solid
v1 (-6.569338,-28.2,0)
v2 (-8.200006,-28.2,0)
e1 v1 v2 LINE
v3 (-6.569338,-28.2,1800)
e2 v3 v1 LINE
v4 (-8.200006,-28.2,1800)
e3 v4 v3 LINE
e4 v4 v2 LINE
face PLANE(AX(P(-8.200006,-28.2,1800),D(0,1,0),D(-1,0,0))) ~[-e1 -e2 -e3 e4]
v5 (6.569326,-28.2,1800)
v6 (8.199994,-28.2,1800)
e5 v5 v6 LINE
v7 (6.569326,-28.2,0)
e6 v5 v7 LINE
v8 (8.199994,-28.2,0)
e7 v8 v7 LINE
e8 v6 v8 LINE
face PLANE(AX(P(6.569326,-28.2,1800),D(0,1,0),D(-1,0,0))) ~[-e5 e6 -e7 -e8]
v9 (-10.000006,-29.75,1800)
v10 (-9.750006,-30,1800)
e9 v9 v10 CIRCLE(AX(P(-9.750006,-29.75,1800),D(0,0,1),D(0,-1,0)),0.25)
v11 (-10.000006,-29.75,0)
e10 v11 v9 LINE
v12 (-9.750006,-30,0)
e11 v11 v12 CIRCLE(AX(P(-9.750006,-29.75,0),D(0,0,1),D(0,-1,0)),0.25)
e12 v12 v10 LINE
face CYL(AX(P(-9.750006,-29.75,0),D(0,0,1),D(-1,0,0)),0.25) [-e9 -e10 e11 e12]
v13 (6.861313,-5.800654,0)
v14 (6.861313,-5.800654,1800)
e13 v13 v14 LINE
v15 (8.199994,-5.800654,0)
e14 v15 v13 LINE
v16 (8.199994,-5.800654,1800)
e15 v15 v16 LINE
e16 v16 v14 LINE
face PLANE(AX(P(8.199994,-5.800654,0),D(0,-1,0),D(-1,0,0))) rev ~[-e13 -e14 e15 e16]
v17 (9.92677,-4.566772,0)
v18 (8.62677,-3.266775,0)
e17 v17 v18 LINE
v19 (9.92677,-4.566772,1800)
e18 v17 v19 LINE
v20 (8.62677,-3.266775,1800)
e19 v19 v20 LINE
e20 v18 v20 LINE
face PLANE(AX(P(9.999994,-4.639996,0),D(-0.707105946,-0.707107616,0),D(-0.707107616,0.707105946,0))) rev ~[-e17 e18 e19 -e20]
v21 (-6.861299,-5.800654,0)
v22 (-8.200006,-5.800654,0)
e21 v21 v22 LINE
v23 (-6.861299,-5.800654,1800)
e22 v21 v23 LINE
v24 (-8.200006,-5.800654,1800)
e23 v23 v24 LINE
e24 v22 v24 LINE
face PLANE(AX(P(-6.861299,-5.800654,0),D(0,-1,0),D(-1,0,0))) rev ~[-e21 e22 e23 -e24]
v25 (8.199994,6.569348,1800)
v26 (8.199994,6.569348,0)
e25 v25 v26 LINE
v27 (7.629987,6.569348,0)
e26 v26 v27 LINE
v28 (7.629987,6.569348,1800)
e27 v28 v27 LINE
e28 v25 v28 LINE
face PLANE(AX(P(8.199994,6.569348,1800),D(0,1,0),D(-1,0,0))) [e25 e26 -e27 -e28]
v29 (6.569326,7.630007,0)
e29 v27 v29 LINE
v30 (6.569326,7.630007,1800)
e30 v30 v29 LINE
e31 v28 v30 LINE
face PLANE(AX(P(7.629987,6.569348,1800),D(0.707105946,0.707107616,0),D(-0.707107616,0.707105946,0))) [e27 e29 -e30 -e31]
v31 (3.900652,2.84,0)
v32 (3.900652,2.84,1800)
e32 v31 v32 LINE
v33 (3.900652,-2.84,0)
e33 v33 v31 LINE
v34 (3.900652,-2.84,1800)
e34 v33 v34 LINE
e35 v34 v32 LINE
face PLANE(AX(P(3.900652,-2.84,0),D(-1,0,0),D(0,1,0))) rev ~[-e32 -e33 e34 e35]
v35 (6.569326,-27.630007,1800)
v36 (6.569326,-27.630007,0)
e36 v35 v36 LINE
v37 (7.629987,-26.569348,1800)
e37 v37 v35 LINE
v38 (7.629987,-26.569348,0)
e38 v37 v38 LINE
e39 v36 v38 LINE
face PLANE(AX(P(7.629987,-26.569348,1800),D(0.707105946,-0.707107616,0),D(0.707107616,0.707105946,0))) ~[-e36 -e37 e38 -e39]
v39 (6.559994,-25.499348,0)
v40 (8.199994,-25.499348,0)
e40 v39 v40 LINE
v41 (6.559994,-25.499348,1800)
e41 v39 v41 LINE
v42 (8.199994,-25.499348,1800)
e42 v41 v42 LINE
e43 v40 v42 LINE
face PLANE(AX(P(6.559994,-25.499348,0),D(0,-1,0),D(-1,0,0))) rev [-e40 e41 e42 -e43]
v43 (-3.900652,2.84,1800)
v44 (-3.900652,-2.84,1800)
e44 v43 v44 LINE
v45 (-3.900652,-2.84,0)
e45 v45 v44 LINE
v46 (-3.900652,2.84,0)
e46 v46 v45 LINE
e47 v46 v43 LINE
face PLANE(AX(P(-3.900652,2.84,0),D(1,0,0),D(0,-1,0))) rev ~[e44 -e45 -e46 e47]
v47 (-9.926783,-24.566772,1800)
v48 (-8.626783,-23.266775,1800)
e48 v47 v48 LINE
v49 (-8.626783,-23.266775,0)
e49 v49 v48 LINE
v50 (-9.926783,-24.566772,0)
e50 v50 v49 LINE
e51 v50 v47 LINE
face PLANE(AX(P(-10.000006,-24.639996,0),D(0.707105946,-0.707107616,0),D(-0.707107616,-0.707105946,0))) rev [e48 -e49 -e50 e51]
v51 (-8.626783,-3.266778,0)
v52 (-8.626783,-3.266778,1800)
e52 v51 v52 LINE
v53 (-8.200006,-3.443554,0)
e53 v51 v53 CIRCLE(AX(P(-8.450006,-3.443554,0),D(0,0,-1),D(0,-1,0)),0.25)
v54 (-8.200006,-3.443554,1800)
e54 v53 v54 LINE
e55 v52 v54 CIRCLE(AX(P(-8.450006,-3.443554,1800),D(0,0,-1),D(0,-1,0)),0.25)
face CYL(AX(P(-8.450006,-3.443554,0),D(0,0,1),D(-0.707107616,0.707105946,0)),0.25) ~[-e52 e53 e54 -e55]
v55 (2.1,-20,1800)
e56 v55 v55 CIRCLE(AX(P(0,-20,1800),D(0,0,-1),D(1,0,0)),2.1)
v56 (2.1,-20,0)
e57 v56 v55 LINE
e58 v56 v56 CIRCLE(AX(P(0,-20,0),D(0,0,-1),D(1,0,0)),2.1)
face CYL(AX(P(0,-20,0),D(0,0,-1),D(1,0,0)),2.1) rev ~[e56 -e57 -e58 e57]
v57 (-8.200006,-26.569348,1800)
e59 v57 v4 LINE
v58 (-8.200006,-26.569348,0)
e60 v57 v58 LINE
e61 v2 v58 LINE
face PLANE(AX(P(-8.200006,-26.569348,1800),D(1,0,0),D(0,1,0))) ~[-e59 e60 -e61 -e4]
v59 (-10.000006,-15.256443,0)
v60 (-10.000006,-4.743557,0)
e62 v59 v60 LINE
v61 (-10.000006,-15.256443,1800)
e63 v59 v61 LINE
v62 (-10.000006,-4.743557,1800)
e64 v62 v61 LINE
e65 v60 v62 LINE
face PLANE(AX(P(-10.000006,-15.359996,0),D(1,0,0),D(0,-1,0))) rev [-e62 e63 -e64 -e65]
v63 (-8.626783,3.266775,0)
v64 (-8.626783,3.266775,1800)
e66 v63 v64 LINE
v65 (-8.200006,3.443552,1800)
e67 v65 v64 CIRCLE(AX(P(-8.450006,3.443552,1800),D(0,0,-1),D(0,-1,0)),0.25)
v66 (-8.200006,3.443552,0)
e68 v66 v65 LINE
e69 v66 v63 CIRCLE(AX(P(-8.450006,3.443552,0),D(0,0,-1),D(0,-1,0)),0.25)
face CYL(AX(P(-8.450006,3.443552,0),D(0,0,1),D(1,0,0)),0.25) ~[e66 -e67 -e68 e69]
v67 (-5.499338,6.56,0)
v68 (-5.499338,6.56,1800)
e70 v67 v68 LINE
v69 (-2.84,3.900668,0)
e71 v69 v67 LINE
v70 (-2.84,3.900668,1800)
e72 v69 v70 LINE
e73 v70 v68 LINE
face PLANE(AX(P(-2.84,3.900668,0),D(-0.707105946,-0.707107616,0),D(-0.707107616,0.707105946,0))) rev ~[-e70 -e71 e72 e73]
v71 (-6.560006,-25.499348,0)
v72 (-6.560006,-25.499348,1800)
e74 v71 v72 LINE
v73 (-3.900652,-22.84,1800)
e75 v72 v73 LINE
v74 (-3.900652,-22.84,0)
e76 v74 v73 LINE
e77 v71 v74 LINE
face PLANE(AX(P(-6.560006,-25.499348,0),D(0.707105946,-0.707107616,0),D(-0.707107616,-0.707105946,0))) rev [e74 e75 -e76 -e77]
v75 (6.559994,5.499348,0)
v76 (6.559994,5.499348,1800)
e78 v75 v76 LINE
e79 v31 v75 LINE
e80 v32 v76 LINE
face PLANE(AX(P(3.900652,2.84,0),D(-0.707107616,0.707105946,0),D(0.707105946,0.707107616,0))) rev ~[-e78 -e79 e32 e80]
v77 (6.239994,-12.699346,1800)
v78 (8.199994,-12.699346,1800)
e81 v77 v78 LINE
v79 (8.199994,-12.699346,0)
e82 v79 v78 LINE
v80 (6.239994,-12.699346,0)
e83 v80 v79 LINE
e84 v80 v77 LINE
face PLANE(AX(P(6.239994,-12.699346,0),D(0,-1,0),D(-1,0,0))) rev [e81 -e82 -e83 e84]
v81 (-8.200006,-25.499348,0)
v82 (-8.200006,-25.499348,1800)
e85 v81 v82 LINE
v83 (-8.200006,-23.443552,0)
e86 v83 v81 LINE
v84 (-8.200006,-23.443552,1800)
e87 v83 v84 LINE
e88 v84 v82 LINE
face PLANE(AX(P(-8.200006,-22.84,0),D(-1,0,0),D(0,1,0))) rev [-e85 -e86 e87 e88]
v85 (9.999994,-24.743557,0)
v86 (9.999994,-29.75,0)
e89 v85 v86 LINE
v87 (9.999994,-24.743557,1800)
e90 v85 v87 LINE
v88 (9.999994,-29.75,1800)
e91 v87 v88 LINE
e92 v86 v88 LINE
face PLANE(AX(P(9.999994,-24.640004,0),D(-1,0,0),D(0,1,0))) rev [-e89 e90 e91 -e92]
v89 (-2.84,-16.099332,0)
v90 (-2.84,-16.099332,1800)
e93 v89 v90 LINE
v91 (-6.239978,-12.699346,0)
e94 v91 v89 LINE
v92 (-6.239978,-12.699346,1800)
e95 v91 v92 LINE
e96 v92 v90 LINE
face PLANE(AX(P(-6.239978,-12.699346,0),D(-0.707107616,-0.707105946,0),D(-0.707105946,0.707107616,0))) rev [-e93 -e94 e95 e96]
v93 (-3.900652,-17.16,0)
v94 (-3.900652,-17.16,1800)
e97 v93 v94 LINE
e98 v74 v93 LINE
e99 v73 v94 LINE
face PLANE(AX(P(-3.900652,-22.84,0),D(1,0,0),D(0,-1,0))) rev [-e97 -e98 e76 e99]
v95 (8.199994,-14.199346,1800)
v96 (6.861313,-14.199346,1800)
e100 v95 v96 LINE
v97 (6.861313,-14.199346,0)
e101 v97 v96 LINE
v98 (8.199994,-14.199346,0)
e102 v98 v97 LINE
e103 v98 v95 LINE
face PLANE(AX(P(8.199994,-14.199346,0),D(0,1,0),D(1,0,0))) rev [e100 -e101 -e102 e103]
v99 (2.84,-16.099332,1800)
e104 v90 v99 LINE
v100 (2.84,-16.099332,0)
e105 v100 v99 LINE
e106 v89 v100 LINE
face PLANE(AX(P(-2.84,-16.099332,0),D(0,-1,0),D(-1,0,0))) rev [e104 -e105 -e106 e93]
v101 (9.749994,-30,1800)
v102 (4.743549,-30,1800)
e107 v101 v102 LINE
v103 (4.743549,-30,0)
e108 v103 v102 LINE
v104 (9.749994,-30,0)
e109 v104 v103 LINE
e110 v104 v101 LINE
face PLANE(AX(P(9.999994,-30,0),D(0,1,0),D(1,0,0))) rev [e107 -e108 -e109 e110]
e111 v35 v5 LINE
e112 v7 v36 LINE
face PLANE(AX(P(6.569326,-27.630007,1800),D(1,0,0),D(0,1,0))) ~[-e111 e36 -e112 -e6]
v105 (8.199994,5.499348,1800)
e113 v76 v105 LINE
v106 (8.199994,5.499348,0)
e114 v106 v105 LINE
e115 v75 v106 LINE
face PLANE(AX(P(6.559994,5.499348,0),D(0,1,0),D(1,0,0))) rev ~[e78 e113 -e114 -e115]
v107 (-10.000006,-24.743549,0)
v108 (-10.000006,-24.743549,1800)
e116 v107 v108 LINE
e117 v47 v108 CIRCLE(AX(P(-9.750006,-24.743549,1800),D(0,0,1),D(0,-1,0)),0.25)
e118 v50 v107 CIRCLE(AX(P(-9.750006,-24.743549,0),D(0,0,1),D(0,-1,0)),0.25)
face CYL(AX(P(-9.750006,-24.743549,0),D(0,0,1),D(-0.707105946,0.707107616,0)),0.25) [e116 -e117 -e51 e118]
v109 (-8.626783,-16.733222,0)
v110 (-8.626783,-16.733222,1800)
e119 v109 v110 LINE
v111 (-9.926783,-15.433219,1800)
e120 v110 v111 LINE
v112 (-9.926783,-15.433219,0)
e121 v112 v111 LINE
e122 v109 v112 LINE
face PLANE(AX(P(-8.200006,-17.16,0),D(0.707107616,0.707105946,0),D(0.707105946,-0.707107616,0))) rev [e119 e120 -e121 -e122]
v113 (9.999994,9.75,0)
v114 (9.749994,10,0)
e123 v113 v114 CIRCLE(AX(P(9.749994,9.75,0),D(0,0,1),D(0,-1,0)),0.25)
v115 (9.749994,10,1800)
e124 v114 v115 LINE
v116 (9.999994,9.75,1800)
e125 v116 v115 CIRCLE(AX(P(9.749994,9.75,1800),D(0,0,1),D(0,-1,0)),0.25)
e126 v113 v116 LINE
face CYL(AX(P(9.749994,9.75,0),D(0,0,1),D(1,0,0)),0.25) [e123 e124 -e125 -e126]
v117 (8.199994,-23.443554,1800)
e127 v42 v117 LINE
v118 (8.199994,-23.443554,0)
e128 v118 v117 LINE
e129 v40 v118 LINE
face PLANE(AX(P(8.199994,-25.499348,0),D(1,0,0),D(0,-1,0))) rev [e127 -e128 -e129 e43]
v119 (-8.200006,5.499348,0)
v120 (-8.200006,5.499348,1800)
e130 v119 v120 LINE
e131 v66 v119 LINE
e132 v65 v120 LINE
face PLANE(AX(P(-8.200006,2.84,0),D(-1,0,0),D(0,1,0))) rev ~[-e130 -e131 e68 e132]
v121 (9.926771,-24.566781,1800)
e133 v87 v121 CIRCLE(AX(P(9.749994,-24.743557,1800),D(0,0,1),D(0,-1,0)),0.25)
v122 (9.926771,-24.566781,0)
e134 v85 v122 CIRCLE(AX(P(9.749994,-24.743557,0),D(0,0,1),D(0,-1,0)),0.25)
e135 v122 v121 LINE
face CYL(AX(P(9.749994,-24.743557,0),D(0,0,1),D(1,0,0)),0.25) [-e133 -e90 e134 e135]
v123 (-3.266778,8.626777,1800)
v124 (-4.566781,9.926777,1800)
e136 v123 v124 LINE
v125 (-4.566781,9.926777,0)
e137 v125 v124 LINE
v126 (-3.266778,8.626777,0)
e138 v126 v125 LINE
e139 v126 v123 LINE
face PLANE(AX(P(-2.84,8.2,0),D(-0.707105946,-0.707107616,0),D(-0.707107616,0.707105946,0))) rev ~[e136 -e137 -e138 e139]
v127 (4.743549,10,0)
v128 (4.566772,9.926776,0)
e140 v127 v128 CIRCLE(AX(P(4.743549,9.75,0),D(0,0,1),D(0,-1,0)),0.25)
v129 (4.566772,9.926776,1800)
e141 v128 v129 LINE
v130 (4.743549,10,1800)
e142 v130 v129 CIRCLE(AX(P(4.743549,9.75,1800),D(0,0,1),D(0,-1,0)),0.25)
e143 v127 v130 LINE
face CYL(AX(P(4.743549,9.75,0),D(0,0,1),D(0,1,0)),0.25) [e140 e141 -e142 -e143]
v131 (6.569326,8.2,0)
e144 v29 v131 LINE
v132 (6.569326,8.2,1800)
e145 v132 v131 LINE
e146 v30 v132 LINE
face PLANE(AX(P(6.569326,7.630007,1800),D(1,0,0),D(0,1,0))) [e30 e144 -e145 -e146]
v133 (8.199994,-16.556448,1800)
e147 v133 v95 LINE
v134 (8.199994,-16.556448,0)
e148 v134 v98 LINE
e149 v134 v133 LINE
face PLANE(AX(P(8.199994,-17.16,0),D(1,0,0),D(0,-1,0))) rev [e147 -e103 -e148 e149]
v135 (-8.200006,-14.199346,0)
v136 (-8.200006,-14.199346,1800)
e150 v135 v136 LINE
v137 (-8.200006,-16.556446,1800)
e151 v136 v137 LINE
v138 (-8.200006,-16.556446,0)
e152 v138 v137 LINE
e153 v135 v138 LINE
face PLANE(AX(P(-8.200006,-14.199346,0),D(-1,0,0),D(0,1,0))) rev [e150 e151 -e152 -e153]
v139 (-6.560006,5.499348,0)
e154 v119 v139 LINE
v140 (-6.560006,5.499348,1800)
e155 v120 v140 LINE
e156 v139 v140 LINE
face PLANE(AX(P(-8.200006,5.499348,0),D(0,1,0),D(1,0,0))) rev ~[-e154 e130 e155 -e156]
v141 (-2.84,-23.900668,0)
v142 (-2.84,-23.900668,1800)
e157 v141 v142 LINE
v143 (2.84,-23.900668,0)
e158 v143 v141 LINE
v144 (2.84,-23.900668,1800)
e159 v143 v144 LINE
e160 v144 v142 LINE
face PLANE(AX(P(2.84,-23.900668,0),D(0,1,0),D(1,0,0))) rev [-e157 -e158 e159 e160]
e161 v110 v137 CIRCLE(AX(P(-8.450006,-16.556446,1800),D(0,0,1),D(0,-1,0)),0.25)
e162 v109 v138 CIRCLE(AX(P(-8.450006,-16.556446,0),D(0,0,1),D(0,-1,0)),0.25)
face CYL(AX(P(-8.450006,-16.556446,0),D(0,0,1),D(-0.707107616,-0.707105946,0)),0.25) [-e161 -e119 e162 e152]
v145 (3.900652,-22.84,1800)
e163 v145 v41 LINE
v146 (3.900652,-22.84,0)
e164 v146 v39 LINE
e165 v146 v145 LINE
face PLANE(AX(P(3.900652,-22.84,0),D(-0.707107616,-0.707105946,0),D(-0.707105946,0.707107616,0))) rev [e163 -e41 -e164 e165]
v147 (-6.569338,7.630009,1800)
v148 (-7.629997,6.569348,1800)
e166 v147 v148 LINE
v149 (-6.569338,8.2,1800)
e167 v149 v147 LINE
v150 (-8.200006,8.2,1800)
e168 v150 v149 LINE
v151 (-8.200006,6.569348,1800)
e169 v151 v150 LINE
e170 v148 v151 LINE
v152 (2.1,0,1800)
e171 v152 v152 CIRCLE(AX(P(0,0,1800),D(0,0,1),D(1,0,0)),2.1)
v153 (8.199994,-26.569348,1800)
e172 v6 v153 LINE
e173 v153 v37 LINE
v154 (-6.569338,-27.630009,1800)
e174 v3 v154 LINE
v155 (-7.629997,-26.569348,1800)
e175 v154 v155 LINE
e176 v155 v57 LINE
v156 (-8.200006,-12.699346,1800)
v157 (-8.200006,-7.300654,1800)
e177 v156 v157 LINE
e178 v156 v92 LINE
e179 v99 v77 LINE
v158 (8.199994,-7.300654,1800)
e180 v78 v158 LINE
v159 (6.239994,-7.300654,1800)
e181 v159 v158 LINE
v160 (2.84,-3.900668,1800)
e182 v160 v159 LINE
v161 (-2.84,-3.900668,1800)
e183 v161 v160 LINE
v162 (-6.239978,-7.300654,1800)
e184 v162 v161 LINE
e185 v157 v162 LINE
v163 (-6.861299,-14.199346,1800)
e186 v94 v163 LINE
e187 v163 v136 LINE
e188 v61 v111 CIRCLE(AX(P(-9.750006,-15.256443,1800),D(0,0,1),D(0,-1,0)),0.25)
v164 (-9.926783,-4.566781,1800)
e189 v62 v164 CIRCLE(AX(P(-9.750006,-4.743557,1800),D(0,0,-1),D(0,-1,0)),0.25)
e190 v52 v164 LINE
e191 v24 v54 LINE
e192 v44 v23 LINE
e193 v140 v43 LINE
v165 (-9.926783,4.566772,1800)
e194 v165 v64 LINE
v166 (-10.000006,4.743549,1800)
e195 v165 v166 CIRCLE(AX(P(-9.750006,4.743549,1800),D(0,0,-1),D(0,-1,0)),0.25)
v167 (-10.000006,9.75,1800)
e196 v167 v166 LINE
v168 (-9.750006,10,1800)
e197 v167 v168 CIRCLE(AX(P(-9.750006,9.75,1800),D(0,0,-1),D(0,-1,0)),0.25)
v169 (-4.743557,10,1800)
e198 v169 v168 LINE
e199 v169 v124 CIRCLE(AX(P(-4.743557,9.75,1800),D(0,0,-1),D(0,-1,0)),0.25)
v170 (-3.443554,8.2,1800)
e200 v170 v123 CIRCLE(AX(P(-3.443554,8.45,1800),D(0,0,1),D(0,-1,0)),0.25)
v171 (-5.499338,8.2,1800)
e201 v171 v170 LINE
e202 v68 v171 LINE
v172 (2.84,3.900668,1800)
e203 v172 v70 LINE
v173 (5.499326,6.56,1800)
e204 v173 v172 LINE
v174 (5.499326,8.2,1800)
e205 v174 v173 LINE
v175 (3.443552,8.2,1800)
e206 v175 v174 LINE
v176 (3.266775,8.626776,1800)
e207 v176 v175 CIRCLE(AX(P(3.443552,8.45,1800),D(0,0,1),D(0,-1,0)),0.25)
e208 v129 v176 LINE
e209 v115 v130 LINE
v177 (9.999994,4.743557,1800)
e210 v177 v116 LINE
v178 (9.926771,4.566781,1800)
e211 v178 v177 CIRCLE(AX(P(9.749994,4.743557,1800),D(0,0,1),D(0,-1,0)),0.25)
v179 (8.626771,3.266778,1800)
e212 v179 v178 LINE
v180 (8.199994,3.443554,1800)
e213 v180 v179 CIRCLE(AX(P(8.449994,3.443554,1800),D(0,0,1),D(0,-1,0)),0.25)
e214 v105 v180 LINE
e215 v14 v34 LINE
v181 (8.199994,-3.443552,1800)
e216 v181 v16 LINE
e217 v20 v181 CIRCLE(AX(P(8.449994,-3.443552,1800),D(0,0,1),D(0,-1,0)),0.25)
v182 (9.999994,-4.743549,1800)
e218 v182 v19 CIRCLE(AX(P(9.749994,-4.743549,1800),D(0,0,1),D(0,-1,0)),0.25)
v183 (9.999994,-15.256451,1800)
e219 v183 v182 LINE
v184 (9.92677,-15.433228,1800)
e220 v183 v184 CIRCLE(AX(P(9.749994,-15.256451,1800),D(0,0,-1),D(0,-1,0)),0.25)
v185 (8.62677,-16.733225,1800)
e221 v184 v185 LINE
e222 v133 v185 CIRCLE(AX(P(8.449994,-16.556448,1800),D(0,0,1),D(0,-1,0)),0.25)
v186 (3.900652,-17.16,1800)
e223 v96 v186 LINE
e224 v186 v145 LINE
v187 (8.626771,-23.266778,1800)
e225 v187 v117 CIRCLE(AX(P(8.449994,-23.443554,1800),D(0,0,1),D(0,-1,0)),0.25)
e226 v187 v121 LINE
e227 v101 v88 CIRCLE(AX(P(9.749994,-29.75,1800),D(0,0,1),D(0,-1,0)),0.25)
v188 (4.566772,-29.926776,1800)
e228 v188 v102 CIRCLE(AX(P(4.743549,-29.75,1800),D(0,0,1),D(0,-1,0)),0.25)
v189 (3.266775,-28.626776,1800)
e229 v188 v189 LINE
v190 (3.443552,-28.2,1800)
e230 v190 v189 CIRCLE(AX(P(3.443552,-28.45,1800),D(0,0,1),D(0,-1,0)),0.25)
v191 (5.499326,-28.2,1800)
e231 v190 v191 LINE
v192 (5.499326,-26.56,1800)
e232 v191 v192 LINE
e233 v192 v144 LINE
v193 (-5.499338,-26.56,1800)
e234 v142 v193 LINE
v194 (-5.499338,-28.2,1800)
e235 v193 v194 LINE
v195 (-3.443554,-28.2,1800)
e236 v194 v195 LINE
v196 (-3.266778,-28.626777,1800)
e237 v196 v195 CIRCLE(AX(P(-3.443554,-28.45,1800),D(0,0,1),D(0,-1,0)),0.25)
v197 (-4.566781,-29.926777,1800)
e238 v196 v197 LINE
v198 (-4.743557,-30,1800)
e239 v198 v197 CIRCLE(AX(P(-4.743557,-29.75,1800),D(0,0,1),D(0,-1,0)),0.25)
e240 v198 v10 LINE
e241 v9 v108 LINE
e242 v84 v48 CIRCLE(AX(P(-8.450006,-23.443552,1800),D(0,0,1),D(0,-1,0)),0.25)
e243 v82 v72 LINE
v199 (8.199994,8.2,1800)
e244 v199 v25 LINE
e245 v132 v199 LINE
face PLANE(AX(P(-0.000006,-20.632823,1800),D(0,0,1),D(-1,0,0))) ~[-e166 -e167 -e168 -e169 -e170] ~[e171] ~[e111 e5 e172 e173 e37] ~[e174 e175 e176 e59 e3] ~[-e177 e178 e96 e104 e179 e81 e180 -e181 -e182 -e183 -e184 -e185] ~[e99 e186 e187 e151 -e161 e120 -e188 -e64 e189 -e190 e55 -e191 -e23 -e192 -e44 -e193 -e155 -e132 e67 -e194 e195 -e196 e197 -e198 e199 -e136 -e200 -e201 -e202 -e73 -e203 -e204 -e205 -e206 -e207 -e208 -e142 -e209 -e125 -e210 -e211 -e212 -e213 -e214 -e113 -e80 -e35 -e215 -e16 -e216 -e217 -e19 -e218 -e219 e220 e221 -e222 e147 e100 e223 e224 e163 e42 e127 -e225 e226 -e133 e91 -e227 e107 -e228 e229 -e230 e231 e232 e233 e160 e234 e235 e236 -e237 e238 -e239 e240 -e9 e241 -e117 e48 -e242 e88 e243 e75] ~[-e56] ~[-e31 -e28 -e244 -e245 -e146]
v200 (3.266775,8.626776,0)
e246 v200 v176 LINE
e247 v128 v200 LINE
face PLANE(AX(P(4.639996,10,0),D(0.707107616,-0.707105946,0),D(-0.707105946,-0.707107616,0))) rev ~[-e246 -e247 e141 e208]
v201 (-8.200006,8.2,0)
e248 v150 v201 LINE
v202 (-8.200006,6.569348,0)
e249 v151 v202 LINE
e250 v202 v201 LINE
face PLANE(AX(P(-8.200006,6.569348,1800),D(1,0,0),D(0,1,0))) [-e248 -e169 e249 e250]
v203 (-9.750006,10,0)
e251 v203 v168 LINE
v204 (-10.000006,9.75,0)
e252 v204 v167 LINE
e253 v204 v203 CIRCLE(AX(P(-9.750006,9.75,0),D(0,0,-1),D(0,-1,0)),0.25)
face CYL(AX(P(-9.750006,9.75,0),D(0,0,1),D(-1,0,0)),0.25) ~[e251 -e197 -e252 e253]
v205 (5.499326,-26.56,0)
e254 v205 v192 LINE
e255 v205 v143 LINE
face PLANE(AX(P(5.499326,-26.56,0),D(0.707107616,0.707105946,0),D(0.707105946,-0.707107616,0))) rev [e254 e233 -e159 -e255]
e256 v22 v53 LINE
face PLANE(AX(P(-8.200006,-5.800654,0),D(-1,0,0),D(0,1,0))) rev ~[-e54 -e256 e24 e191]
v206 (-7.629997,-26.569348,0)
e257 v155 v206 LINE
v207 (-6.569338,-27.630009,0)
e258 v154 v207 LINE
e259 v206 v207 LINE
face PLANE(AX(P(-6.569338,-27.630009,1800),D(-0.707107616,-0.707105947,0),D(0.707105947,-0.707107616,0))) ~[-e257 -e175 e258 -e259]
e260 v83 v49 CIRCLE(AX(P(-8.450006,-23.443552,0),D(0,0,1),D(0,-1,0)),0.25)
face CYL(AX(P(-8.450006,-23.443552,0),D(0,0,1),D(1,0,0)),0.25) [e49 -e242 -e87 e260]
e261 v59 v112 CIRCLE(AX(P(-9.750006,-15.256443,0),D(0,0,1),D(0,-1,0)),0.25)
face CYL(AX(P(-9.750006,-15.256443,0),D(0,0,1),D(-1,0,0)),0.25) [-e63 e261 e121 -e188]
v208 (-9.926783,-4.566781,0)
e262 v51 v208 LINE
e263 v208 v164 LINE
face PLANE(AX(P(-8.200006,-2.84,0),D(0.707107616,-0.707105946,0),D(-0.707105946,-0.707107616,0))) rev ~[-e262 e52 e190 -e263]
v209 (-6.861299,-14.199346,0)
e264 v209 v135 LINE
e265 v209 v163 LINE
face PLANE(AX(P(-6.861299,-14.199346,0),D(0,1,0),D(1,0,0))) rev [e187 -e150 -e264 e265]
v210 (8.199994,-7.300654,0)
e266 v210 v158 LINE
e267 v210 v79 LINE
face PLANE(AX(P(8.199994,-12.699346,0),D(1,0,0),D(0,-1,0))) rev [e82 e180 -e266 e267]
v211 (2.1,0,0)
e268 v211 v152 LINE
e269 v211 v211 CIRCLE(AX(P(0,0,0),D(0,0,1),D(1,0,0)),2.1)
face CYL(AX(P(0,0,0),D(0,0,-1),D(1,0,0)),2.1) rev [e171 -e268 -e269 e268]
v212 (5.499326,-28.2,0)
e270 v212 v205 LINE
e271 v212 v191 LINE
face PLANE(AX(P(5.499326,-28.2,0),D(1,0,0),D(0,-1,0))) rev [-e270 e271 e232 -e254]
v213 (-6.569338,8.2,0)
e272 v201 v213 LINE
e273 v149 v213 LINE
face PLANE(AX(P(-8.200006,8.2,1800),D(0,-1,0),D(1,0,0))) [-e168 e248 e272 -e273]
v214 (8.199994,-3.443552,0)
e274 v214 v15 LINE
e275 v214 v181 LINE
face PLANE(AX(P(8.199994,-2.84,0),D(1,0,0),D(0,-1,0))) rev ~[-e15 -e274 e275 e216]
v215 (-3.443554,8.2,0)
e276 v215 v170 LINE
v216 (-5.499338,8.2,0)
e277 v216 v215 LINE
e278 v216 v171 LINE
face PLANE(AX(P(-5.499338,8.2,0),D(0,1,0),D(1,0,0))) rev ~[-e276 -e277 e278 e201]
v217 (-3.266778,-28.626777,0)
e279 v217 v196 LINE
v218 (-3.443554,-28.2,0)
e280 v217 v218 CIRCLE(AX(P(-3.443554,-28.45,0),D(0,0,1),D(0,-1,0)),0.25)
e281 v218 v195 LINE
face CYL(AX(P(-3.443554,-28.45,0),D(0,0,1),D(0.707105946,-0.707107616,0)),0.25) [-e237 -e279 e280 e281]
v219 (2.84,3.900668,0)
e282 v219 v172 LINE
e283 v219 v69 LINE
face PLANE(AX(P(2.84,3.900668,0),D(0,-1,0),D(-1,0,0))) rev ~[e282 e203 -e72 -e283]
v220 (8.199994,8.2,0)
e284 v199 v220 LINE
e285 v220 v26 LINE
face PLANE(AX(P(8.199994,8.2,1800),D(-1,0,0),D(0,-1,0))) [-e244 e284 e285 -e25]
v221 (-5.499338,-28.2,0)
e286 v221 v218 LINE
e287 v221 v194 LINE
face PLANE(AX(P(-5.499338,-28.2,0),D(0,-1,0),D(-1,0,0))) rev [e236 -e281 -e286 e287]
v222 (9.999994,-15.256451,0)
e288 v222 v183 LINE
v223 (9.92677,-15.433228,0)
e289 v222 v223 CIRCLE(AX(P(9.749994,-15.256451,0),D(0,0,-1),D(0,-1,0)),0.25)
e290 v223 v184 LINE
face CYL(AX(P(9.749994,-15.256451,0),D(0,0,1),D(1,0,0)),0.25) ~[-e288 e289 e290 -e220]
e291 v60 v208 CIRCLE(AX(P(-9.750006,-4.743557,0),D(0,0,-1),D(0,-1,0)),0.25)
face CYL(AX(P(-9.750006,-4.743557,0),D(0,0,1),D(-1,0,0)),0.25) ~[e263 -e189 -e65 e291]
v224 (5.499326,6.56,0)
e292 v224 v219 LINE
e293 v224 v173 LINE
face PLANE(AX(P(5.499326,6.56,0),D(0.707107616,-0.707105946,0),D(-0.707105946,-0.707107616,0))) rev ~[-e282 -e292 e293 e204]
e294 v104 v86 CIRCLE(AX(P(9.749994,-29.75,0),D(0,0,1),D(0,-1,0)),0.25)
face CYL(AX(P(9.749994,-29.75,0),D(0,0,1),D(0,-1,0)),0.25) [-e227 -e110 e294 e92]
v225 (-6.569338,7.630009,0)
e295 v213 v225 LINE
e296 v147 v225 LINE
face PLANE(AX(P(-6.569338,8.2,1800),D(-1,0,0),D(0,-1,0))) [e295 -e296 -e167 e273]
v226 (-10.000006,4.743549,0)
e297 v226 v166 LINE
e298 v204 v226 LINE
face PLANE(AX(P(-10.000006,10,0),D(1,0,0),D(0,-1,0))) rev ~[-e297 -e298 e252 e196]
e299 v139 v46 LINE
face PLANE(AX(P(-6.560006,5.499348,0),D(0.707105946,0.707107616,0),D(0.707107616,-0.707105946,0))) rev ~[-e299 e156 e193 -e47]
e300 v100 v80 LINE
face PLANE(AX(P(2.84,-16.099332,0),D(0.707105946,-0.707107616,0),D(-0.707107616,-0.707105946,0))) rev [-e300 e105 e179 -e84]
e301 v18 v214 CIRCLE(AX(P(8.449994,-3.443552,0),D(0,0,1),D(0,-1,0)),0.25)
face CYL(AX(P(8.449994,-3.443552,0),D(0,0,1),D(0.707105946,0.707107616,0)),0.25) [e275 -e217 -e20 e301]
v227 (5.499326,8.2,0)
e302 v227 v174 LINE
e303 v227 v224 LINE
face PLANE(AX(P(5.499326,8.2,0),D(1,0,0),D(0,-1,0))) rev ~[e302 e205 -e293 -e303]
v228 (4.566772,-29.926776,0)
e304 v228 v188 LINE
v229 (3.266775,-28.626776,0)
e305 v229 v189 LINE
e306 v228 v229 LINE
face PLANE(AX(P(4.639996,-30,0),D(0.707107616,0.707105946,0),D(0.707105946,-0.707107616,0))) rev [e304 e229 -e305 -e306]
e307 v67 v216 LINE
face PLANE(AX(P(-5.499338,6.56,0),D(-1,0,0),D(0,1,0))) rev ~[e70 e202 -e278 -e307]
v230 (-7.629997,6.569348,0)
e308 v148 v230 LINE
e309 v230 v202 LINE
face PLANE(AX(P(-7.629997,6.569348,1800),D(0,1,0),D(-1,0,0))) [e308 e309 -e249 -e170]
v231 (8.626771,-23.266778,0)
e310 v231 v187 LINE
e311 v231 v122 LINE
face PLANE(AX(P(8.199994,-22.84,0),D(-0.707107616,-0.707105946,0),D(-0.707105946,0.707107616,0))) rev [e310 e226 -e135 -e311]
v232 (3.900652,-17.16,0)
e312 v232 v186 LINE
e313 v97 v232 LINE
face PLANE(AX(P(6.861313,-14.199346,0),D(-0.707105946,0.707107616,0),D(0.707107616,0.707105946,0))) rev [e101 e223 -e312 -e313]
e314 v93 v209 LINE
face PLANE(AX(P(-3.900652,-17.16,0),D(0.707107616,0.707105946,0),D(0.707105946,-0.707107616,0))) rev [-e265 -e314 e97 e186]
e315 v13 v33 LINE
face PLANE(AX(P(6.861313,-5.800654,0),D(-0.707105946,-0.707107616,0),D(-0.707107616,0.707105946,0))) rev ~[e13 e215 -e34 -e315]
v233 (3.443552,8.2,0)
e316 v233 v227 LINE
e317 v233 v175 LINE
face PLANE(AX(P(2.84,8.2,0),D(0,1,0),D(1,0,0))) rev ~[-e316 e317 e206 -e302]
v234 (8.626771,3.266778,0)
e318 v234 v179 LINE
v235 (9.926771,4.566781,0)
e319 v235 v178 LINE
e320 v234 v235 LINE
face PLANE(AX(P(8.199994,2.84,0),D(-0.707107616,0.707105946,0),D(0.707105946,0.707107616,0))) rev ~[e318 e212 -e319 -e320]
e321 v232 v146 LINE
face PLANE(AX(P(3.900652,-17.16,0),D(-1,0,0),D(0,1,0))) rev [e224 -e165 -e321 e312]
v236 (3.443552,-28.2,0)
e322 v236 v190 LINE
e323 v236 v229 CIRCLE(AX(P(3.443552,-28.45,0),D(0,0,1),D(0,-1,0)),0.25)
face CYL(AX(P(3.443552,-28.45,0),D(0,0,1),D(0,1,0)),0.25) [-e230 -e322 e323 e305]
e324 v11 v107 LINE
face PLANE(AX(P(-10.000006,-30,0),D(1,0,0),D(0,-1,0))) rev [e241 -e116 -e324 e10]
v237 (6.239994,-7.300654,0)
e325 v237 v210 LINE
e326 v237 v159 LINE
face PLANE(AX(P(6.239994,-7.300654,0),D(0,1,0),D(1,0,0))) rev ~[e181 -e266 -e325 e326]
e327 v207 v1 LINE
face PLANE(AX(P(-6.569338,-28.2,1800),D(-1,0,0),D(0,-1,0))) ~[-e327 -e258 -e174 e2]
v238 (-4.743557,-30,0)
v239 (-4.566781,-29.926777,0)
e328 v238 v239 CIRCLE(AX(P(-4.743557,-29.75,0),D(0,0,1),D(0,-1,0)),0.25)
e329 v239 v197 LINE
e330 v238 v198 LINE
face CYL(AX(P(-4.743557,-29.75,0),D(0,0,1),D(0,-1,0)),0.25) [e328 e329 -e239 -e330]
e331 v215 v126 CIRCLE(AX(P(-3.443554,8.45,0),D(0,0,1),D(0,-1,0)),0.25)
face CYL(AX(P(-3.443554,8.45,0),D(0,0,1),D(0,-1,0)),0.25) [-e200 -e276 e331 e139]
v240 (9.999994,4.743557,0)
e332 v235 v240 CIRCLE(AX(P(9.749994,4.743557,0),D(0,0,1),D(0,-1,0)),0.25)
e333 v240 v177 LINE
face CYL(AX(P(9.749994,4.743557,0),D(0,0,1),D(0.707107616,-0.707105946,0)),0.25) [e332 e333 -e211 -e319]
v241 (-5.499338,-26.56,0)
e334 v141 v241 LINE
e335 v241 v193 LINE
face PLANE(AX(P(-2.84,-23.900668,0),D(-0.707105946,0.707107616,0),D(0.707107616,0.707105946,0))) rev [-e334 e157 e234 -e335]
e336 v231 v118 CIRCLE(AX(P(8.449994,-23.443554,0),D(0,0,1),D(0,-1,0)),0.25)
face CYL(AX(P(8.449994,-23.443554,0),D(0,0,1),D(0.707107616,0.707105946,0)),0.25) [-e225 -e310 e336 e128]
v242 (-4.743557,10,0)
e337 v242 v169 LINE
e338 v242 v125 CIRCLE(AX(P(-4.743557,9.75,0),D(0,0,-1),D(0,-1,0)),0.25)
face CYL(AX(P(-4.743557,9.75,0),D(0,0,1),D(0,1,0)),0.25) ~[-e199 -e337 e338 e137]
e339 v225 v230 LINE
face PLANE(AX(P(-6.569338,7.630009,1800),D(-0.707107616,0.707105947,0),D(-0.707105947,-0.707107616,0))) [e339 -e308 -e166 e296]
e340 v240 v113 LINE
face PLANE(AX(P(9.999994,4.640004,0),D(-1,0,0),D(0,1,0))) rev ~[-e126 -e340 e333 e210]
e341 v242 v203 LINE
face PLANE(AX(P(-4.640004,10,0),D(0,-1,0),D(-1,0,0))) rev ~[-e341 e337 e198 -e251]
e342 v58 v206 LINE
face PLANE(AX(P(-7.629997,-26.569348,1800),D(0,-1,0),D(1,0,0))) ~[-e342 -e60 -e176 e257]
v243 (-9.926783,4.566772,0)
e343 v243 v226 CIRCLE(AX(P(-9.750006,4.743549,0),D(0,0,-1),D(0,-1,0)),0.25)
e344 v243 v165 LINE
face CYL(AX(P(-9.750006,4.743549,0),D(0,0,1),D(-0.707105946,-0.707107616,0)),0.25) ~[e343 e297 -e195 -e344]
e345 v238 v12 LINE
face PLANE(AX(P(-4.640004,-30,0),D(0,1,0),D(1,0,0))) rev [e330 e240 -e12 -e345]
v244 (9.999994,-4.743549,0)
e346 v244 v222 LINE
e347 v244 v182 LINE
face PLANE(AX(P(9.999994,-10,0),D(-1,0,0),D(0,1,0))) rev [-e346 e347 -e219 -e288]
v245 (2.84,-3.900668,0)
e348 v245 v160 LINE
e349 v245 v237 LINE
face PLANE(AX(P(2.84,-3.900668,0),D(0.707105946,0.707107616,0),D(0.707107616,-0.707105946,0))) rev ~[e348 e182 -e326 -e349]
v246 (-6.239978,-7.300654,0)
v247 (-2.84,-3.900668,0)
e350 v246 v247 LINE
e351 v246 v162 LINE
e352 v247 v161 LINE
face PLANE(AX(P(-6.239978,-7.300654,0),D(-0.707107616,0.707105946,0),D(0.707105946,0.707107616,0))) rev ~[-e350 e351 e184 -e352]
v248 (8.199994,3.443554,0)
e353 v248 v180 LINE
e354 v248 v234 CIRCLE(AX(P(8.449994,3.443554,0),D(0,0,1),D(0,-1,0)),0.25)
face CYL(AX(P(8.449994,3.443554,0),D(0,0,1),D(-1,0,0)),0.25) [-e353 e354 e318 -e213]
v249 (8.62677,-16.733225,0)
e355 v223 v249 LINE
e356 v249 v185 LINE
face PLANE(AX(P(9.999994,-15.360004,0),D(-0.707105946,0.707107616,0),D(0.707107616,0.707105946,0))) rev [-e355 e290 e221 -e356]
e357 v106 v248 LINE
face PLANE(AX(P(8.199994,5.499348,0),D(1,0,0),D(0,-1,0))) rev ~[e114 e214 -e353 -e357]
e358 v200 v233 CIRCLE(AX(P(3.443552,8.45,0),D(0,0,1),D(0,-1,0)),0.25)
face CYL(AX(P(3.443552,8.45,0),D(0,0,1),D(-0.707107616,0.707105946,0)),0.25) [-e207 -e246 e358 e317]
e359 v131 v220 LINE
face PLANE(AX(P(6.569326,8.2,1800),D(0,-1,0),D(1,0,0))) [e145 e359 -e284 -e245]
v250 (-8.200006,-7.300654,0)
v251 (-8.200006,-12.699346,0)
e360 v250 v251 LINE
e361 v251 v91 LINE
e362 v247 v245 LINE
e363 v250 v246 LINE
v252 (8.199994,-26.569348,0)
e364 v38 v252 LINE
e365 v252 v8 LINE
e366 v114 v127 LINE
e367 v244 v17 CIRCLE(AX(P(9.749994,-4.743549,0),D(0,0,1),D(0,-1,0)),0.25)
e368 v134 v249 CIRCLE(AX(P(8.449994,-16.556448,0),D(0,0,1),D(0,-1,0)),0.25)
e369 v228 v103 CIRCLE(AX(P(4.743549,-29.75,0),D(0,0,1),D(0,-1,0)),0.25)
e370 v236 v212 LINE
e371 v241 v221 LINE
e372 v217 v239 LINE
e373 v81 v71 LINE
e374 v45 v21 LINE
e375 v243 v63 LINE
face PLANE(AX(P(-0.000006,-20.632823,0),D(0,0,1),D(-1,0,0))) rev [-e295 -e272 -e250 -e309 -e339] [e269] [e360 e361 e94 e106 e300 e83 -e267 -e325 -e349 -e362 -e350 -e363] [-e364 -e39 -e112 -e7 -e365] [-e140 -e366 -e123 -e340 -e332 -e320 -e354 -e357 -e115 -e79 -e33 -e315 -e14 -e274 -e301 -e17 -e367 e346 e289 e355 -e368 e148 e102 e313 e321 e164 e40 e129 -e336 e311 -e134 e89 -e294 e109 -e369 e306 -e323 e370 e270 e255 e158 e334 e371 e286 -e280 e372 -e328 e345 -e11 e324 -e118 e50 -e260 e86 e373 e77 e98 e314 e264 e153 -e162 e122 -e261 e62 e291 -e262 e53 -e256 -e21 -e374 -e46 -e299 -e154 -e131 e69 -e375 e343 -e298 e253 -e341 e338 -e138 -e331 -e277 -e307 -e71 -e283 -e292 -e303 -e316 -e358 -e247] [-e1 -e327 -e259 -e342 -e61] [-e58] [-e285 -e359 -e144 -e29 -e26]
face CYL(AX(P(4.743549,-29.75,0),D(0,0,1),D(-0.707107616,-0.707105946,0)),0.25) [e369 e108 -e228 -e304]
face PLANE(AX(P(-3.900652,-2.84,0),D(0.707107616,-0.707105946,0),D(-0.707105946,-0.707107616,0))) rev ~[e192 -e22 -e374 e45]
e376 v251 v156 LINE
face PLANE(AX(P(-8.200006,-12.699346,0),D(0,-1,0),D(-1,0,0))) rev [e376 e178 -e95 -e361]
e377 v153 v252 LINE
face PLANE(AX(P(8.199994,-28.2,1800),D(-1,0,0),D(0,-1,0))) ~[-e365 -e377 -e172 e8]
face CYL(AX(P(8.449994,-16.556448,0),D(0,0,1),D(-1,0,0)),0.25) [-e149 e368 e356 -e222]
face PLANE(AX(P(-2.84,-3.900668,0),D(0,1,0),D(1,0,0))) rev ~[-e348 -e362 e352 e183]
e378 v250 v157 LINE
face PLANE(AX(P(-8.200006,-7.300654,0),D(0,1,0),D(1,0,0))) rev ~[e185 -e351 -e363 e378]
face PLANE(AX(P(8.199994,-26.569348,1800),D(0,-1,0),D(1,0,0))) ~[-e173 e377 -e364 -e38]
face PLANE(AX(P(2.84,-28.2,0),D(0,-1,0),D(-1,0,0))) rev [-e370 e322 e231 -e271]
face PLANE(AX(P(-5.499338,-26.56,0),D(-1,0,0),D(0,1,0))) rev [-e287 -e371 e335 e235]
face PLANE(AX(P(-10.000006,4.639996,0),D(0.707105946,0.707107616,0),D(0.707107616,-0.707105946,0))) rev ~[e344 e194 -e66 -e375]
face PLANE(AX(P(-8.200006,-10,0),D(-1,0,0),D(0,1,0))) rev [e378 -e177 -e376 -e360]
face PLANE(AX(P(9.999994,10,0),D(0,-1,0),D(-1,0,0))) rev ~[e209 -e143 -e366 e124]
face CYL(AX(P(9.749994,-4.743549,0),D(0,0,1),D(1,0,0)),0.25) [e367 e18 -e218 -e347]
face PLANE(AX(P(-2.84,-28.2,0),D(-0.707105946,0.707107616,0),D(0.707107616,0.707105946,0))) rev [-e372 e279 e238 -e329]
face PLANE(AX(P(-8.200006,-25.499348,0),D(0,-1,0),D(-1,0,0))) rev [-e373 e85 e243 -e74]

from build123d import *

# Parameters (mm, degrees)
SKETCH1_R            = 2.1
BOSS_EXTRUDE2_DEPTH  = 1800
CUT_EXTRUDE1_DEPTH   = 1801
FILLET1_R            = 0.25
FILLET1_OF_MIRROR1_R = 0.25


with BuildPart() as part:
    # Sketch1 → Boss-Extrude2 (new body)
    with BuildSketch(Plane.XY):
        Polygon((8.199993721, -10), (9.999993721, -10), (9.999993721, -4.63999575), (8.199993721, -2.84), (8.199993721, -5.800653822), (6.861313026, -5.800653822), (3.900652213, -2.84), (3.900652213, 2.84), (6.559993721, 5.499347787), (8.199993721, 5.499347787), (8.199993721, 2.84), (9.999993721, 4.64000425), (9.999993721, 10), (4.63999575, 10), (2.84, 8.2), (5.499325592, 8.2), (5.499325592, 6.56), (2.84, 3.900668129), (-2.84, 3.900668129), (-5.49933815, 6.56), (-5.49933815, 8.2), (-2.84, 8.2), (-4.64000425, 10), (-10.000006279, 10), (-10.000006279, 4.63999575), (-8.200006279, 2.84), (-8.200006279, 5.499347787), (-6.560006279, 5.499347787), (-3.900652213, 2.84), (-3.900652213, -2.84), (-6.861299044, -5.800653822), (-8.200006279, -5.800653822), (-8.200006279, -2.84), (-10.000006279, -4.64000425), (-10.000006279, -10), (-8.200006279, -10), (-8.200006279, -7.300653822), (-6.239977665, -7.300653822), (-2.84, -3.900668129), (2.84, -3.900668129), (6.239993721, -7.300653822), (8.199993721, -7.300653822), align=None)
        Circle(SKETCH1_R, mode=Mode.SUBTRACT)
    boss_extrude2 = extrude(amount=BOSS_EXTRUDE2_DEPTH)

    # Sketch2 → Cut-Extrude1 (cut, through all)
    with BuildSketch(Plane.XY.offset(1800)):
        Polygon((-8.200006279, 6.569347787), (-8.200006279, 8.2), (-6.56933815, 8.2), (-6.56933815, 7.630009211), (-7.62999707, 6.569347787), align=None)
        Polygon((8.199993721, 8.2), (8.199993721, 6.569347787), (7.629987016, 6.569347787), (6.569325592, 7.630006706), (6.569325592, 8.2), align=None)
    cut_extrude1 = extrude(amount=-CUT_EXTRUDE1_DEPTH, mode=Mode.SUBTRACT)

    # Fillet1
    fillet1_edges = [part.edges().sort_by_distance(p)[0] for p in [
        (9.999993721, -4.63999575, 900),
        (-10.000006279, -4.64000425, 900),
        (-8.200006279, -2.84, 900),
        (-8.200006279, 2.84, 900),
        (-10.000006279, 4.63999575, 900),
        (-10.000006279, 10, 900),
        (-4.64000425, 10, 900),
        (-2.84, 8.2, 900),
        (2.84, 8.2, 900),
        (4.63999575, 10, 900),
        (9.999993721, 10, 900),
        (9.999993721, 4.64000425, 900),
        (8.199993721, 2.84, 900),
        (8.199993721, -2.84, 900),
    ]]
    fillet(fillet1_edges, radius=FILLET1_R)

    # Mirror1: Boss-Extrude2 across plane
    add(boss_extrude2.mirror(Plane(origin=(0, -10, 0), x_dir=(0, 0, 1), z_dir=(0, -1, 0))))

    # Fillet1 of Mirror1
    fillet1_of_mirror1_edges = [part.edges().sort_by_distance(p)[0] for p in [
        (9.999993721, -15.36000425, 900),
        (-10.000006279, -15.35999575, 900),
        (-8.200006279, -17.16, 900),
        (-8.200006279, -22.84, 900),
        (-10.000006279, -24.63999575, 900),
        (-10.000006279, -30, 900),
        (-4.64000425, -30, 900),
        (-2.84, -28.2, 900),
        (2.84, -28.2, 900),
        (4.63999575, -30, 900),
        (9.999993721, -30, 900),
        (9.999993721, -24.64000425, 900),
        (8.199993721, -22.84, 900),
        (8.199993721, -17.16, 900),
    ]]
    fillet(fillet1_of_mirror1_edges, radius=FILLET1_OF_MIRROR1_R)

    # Mirror2: Cut-Extrude1 across plane
    add(cut_extrude1.mirror(Plane(origin=(0, -10, 0), x_dir=(0, 0, 1), z_dir=(0, -1, 0))), mode=Mode.SUBTRACT)


solid = part.part
